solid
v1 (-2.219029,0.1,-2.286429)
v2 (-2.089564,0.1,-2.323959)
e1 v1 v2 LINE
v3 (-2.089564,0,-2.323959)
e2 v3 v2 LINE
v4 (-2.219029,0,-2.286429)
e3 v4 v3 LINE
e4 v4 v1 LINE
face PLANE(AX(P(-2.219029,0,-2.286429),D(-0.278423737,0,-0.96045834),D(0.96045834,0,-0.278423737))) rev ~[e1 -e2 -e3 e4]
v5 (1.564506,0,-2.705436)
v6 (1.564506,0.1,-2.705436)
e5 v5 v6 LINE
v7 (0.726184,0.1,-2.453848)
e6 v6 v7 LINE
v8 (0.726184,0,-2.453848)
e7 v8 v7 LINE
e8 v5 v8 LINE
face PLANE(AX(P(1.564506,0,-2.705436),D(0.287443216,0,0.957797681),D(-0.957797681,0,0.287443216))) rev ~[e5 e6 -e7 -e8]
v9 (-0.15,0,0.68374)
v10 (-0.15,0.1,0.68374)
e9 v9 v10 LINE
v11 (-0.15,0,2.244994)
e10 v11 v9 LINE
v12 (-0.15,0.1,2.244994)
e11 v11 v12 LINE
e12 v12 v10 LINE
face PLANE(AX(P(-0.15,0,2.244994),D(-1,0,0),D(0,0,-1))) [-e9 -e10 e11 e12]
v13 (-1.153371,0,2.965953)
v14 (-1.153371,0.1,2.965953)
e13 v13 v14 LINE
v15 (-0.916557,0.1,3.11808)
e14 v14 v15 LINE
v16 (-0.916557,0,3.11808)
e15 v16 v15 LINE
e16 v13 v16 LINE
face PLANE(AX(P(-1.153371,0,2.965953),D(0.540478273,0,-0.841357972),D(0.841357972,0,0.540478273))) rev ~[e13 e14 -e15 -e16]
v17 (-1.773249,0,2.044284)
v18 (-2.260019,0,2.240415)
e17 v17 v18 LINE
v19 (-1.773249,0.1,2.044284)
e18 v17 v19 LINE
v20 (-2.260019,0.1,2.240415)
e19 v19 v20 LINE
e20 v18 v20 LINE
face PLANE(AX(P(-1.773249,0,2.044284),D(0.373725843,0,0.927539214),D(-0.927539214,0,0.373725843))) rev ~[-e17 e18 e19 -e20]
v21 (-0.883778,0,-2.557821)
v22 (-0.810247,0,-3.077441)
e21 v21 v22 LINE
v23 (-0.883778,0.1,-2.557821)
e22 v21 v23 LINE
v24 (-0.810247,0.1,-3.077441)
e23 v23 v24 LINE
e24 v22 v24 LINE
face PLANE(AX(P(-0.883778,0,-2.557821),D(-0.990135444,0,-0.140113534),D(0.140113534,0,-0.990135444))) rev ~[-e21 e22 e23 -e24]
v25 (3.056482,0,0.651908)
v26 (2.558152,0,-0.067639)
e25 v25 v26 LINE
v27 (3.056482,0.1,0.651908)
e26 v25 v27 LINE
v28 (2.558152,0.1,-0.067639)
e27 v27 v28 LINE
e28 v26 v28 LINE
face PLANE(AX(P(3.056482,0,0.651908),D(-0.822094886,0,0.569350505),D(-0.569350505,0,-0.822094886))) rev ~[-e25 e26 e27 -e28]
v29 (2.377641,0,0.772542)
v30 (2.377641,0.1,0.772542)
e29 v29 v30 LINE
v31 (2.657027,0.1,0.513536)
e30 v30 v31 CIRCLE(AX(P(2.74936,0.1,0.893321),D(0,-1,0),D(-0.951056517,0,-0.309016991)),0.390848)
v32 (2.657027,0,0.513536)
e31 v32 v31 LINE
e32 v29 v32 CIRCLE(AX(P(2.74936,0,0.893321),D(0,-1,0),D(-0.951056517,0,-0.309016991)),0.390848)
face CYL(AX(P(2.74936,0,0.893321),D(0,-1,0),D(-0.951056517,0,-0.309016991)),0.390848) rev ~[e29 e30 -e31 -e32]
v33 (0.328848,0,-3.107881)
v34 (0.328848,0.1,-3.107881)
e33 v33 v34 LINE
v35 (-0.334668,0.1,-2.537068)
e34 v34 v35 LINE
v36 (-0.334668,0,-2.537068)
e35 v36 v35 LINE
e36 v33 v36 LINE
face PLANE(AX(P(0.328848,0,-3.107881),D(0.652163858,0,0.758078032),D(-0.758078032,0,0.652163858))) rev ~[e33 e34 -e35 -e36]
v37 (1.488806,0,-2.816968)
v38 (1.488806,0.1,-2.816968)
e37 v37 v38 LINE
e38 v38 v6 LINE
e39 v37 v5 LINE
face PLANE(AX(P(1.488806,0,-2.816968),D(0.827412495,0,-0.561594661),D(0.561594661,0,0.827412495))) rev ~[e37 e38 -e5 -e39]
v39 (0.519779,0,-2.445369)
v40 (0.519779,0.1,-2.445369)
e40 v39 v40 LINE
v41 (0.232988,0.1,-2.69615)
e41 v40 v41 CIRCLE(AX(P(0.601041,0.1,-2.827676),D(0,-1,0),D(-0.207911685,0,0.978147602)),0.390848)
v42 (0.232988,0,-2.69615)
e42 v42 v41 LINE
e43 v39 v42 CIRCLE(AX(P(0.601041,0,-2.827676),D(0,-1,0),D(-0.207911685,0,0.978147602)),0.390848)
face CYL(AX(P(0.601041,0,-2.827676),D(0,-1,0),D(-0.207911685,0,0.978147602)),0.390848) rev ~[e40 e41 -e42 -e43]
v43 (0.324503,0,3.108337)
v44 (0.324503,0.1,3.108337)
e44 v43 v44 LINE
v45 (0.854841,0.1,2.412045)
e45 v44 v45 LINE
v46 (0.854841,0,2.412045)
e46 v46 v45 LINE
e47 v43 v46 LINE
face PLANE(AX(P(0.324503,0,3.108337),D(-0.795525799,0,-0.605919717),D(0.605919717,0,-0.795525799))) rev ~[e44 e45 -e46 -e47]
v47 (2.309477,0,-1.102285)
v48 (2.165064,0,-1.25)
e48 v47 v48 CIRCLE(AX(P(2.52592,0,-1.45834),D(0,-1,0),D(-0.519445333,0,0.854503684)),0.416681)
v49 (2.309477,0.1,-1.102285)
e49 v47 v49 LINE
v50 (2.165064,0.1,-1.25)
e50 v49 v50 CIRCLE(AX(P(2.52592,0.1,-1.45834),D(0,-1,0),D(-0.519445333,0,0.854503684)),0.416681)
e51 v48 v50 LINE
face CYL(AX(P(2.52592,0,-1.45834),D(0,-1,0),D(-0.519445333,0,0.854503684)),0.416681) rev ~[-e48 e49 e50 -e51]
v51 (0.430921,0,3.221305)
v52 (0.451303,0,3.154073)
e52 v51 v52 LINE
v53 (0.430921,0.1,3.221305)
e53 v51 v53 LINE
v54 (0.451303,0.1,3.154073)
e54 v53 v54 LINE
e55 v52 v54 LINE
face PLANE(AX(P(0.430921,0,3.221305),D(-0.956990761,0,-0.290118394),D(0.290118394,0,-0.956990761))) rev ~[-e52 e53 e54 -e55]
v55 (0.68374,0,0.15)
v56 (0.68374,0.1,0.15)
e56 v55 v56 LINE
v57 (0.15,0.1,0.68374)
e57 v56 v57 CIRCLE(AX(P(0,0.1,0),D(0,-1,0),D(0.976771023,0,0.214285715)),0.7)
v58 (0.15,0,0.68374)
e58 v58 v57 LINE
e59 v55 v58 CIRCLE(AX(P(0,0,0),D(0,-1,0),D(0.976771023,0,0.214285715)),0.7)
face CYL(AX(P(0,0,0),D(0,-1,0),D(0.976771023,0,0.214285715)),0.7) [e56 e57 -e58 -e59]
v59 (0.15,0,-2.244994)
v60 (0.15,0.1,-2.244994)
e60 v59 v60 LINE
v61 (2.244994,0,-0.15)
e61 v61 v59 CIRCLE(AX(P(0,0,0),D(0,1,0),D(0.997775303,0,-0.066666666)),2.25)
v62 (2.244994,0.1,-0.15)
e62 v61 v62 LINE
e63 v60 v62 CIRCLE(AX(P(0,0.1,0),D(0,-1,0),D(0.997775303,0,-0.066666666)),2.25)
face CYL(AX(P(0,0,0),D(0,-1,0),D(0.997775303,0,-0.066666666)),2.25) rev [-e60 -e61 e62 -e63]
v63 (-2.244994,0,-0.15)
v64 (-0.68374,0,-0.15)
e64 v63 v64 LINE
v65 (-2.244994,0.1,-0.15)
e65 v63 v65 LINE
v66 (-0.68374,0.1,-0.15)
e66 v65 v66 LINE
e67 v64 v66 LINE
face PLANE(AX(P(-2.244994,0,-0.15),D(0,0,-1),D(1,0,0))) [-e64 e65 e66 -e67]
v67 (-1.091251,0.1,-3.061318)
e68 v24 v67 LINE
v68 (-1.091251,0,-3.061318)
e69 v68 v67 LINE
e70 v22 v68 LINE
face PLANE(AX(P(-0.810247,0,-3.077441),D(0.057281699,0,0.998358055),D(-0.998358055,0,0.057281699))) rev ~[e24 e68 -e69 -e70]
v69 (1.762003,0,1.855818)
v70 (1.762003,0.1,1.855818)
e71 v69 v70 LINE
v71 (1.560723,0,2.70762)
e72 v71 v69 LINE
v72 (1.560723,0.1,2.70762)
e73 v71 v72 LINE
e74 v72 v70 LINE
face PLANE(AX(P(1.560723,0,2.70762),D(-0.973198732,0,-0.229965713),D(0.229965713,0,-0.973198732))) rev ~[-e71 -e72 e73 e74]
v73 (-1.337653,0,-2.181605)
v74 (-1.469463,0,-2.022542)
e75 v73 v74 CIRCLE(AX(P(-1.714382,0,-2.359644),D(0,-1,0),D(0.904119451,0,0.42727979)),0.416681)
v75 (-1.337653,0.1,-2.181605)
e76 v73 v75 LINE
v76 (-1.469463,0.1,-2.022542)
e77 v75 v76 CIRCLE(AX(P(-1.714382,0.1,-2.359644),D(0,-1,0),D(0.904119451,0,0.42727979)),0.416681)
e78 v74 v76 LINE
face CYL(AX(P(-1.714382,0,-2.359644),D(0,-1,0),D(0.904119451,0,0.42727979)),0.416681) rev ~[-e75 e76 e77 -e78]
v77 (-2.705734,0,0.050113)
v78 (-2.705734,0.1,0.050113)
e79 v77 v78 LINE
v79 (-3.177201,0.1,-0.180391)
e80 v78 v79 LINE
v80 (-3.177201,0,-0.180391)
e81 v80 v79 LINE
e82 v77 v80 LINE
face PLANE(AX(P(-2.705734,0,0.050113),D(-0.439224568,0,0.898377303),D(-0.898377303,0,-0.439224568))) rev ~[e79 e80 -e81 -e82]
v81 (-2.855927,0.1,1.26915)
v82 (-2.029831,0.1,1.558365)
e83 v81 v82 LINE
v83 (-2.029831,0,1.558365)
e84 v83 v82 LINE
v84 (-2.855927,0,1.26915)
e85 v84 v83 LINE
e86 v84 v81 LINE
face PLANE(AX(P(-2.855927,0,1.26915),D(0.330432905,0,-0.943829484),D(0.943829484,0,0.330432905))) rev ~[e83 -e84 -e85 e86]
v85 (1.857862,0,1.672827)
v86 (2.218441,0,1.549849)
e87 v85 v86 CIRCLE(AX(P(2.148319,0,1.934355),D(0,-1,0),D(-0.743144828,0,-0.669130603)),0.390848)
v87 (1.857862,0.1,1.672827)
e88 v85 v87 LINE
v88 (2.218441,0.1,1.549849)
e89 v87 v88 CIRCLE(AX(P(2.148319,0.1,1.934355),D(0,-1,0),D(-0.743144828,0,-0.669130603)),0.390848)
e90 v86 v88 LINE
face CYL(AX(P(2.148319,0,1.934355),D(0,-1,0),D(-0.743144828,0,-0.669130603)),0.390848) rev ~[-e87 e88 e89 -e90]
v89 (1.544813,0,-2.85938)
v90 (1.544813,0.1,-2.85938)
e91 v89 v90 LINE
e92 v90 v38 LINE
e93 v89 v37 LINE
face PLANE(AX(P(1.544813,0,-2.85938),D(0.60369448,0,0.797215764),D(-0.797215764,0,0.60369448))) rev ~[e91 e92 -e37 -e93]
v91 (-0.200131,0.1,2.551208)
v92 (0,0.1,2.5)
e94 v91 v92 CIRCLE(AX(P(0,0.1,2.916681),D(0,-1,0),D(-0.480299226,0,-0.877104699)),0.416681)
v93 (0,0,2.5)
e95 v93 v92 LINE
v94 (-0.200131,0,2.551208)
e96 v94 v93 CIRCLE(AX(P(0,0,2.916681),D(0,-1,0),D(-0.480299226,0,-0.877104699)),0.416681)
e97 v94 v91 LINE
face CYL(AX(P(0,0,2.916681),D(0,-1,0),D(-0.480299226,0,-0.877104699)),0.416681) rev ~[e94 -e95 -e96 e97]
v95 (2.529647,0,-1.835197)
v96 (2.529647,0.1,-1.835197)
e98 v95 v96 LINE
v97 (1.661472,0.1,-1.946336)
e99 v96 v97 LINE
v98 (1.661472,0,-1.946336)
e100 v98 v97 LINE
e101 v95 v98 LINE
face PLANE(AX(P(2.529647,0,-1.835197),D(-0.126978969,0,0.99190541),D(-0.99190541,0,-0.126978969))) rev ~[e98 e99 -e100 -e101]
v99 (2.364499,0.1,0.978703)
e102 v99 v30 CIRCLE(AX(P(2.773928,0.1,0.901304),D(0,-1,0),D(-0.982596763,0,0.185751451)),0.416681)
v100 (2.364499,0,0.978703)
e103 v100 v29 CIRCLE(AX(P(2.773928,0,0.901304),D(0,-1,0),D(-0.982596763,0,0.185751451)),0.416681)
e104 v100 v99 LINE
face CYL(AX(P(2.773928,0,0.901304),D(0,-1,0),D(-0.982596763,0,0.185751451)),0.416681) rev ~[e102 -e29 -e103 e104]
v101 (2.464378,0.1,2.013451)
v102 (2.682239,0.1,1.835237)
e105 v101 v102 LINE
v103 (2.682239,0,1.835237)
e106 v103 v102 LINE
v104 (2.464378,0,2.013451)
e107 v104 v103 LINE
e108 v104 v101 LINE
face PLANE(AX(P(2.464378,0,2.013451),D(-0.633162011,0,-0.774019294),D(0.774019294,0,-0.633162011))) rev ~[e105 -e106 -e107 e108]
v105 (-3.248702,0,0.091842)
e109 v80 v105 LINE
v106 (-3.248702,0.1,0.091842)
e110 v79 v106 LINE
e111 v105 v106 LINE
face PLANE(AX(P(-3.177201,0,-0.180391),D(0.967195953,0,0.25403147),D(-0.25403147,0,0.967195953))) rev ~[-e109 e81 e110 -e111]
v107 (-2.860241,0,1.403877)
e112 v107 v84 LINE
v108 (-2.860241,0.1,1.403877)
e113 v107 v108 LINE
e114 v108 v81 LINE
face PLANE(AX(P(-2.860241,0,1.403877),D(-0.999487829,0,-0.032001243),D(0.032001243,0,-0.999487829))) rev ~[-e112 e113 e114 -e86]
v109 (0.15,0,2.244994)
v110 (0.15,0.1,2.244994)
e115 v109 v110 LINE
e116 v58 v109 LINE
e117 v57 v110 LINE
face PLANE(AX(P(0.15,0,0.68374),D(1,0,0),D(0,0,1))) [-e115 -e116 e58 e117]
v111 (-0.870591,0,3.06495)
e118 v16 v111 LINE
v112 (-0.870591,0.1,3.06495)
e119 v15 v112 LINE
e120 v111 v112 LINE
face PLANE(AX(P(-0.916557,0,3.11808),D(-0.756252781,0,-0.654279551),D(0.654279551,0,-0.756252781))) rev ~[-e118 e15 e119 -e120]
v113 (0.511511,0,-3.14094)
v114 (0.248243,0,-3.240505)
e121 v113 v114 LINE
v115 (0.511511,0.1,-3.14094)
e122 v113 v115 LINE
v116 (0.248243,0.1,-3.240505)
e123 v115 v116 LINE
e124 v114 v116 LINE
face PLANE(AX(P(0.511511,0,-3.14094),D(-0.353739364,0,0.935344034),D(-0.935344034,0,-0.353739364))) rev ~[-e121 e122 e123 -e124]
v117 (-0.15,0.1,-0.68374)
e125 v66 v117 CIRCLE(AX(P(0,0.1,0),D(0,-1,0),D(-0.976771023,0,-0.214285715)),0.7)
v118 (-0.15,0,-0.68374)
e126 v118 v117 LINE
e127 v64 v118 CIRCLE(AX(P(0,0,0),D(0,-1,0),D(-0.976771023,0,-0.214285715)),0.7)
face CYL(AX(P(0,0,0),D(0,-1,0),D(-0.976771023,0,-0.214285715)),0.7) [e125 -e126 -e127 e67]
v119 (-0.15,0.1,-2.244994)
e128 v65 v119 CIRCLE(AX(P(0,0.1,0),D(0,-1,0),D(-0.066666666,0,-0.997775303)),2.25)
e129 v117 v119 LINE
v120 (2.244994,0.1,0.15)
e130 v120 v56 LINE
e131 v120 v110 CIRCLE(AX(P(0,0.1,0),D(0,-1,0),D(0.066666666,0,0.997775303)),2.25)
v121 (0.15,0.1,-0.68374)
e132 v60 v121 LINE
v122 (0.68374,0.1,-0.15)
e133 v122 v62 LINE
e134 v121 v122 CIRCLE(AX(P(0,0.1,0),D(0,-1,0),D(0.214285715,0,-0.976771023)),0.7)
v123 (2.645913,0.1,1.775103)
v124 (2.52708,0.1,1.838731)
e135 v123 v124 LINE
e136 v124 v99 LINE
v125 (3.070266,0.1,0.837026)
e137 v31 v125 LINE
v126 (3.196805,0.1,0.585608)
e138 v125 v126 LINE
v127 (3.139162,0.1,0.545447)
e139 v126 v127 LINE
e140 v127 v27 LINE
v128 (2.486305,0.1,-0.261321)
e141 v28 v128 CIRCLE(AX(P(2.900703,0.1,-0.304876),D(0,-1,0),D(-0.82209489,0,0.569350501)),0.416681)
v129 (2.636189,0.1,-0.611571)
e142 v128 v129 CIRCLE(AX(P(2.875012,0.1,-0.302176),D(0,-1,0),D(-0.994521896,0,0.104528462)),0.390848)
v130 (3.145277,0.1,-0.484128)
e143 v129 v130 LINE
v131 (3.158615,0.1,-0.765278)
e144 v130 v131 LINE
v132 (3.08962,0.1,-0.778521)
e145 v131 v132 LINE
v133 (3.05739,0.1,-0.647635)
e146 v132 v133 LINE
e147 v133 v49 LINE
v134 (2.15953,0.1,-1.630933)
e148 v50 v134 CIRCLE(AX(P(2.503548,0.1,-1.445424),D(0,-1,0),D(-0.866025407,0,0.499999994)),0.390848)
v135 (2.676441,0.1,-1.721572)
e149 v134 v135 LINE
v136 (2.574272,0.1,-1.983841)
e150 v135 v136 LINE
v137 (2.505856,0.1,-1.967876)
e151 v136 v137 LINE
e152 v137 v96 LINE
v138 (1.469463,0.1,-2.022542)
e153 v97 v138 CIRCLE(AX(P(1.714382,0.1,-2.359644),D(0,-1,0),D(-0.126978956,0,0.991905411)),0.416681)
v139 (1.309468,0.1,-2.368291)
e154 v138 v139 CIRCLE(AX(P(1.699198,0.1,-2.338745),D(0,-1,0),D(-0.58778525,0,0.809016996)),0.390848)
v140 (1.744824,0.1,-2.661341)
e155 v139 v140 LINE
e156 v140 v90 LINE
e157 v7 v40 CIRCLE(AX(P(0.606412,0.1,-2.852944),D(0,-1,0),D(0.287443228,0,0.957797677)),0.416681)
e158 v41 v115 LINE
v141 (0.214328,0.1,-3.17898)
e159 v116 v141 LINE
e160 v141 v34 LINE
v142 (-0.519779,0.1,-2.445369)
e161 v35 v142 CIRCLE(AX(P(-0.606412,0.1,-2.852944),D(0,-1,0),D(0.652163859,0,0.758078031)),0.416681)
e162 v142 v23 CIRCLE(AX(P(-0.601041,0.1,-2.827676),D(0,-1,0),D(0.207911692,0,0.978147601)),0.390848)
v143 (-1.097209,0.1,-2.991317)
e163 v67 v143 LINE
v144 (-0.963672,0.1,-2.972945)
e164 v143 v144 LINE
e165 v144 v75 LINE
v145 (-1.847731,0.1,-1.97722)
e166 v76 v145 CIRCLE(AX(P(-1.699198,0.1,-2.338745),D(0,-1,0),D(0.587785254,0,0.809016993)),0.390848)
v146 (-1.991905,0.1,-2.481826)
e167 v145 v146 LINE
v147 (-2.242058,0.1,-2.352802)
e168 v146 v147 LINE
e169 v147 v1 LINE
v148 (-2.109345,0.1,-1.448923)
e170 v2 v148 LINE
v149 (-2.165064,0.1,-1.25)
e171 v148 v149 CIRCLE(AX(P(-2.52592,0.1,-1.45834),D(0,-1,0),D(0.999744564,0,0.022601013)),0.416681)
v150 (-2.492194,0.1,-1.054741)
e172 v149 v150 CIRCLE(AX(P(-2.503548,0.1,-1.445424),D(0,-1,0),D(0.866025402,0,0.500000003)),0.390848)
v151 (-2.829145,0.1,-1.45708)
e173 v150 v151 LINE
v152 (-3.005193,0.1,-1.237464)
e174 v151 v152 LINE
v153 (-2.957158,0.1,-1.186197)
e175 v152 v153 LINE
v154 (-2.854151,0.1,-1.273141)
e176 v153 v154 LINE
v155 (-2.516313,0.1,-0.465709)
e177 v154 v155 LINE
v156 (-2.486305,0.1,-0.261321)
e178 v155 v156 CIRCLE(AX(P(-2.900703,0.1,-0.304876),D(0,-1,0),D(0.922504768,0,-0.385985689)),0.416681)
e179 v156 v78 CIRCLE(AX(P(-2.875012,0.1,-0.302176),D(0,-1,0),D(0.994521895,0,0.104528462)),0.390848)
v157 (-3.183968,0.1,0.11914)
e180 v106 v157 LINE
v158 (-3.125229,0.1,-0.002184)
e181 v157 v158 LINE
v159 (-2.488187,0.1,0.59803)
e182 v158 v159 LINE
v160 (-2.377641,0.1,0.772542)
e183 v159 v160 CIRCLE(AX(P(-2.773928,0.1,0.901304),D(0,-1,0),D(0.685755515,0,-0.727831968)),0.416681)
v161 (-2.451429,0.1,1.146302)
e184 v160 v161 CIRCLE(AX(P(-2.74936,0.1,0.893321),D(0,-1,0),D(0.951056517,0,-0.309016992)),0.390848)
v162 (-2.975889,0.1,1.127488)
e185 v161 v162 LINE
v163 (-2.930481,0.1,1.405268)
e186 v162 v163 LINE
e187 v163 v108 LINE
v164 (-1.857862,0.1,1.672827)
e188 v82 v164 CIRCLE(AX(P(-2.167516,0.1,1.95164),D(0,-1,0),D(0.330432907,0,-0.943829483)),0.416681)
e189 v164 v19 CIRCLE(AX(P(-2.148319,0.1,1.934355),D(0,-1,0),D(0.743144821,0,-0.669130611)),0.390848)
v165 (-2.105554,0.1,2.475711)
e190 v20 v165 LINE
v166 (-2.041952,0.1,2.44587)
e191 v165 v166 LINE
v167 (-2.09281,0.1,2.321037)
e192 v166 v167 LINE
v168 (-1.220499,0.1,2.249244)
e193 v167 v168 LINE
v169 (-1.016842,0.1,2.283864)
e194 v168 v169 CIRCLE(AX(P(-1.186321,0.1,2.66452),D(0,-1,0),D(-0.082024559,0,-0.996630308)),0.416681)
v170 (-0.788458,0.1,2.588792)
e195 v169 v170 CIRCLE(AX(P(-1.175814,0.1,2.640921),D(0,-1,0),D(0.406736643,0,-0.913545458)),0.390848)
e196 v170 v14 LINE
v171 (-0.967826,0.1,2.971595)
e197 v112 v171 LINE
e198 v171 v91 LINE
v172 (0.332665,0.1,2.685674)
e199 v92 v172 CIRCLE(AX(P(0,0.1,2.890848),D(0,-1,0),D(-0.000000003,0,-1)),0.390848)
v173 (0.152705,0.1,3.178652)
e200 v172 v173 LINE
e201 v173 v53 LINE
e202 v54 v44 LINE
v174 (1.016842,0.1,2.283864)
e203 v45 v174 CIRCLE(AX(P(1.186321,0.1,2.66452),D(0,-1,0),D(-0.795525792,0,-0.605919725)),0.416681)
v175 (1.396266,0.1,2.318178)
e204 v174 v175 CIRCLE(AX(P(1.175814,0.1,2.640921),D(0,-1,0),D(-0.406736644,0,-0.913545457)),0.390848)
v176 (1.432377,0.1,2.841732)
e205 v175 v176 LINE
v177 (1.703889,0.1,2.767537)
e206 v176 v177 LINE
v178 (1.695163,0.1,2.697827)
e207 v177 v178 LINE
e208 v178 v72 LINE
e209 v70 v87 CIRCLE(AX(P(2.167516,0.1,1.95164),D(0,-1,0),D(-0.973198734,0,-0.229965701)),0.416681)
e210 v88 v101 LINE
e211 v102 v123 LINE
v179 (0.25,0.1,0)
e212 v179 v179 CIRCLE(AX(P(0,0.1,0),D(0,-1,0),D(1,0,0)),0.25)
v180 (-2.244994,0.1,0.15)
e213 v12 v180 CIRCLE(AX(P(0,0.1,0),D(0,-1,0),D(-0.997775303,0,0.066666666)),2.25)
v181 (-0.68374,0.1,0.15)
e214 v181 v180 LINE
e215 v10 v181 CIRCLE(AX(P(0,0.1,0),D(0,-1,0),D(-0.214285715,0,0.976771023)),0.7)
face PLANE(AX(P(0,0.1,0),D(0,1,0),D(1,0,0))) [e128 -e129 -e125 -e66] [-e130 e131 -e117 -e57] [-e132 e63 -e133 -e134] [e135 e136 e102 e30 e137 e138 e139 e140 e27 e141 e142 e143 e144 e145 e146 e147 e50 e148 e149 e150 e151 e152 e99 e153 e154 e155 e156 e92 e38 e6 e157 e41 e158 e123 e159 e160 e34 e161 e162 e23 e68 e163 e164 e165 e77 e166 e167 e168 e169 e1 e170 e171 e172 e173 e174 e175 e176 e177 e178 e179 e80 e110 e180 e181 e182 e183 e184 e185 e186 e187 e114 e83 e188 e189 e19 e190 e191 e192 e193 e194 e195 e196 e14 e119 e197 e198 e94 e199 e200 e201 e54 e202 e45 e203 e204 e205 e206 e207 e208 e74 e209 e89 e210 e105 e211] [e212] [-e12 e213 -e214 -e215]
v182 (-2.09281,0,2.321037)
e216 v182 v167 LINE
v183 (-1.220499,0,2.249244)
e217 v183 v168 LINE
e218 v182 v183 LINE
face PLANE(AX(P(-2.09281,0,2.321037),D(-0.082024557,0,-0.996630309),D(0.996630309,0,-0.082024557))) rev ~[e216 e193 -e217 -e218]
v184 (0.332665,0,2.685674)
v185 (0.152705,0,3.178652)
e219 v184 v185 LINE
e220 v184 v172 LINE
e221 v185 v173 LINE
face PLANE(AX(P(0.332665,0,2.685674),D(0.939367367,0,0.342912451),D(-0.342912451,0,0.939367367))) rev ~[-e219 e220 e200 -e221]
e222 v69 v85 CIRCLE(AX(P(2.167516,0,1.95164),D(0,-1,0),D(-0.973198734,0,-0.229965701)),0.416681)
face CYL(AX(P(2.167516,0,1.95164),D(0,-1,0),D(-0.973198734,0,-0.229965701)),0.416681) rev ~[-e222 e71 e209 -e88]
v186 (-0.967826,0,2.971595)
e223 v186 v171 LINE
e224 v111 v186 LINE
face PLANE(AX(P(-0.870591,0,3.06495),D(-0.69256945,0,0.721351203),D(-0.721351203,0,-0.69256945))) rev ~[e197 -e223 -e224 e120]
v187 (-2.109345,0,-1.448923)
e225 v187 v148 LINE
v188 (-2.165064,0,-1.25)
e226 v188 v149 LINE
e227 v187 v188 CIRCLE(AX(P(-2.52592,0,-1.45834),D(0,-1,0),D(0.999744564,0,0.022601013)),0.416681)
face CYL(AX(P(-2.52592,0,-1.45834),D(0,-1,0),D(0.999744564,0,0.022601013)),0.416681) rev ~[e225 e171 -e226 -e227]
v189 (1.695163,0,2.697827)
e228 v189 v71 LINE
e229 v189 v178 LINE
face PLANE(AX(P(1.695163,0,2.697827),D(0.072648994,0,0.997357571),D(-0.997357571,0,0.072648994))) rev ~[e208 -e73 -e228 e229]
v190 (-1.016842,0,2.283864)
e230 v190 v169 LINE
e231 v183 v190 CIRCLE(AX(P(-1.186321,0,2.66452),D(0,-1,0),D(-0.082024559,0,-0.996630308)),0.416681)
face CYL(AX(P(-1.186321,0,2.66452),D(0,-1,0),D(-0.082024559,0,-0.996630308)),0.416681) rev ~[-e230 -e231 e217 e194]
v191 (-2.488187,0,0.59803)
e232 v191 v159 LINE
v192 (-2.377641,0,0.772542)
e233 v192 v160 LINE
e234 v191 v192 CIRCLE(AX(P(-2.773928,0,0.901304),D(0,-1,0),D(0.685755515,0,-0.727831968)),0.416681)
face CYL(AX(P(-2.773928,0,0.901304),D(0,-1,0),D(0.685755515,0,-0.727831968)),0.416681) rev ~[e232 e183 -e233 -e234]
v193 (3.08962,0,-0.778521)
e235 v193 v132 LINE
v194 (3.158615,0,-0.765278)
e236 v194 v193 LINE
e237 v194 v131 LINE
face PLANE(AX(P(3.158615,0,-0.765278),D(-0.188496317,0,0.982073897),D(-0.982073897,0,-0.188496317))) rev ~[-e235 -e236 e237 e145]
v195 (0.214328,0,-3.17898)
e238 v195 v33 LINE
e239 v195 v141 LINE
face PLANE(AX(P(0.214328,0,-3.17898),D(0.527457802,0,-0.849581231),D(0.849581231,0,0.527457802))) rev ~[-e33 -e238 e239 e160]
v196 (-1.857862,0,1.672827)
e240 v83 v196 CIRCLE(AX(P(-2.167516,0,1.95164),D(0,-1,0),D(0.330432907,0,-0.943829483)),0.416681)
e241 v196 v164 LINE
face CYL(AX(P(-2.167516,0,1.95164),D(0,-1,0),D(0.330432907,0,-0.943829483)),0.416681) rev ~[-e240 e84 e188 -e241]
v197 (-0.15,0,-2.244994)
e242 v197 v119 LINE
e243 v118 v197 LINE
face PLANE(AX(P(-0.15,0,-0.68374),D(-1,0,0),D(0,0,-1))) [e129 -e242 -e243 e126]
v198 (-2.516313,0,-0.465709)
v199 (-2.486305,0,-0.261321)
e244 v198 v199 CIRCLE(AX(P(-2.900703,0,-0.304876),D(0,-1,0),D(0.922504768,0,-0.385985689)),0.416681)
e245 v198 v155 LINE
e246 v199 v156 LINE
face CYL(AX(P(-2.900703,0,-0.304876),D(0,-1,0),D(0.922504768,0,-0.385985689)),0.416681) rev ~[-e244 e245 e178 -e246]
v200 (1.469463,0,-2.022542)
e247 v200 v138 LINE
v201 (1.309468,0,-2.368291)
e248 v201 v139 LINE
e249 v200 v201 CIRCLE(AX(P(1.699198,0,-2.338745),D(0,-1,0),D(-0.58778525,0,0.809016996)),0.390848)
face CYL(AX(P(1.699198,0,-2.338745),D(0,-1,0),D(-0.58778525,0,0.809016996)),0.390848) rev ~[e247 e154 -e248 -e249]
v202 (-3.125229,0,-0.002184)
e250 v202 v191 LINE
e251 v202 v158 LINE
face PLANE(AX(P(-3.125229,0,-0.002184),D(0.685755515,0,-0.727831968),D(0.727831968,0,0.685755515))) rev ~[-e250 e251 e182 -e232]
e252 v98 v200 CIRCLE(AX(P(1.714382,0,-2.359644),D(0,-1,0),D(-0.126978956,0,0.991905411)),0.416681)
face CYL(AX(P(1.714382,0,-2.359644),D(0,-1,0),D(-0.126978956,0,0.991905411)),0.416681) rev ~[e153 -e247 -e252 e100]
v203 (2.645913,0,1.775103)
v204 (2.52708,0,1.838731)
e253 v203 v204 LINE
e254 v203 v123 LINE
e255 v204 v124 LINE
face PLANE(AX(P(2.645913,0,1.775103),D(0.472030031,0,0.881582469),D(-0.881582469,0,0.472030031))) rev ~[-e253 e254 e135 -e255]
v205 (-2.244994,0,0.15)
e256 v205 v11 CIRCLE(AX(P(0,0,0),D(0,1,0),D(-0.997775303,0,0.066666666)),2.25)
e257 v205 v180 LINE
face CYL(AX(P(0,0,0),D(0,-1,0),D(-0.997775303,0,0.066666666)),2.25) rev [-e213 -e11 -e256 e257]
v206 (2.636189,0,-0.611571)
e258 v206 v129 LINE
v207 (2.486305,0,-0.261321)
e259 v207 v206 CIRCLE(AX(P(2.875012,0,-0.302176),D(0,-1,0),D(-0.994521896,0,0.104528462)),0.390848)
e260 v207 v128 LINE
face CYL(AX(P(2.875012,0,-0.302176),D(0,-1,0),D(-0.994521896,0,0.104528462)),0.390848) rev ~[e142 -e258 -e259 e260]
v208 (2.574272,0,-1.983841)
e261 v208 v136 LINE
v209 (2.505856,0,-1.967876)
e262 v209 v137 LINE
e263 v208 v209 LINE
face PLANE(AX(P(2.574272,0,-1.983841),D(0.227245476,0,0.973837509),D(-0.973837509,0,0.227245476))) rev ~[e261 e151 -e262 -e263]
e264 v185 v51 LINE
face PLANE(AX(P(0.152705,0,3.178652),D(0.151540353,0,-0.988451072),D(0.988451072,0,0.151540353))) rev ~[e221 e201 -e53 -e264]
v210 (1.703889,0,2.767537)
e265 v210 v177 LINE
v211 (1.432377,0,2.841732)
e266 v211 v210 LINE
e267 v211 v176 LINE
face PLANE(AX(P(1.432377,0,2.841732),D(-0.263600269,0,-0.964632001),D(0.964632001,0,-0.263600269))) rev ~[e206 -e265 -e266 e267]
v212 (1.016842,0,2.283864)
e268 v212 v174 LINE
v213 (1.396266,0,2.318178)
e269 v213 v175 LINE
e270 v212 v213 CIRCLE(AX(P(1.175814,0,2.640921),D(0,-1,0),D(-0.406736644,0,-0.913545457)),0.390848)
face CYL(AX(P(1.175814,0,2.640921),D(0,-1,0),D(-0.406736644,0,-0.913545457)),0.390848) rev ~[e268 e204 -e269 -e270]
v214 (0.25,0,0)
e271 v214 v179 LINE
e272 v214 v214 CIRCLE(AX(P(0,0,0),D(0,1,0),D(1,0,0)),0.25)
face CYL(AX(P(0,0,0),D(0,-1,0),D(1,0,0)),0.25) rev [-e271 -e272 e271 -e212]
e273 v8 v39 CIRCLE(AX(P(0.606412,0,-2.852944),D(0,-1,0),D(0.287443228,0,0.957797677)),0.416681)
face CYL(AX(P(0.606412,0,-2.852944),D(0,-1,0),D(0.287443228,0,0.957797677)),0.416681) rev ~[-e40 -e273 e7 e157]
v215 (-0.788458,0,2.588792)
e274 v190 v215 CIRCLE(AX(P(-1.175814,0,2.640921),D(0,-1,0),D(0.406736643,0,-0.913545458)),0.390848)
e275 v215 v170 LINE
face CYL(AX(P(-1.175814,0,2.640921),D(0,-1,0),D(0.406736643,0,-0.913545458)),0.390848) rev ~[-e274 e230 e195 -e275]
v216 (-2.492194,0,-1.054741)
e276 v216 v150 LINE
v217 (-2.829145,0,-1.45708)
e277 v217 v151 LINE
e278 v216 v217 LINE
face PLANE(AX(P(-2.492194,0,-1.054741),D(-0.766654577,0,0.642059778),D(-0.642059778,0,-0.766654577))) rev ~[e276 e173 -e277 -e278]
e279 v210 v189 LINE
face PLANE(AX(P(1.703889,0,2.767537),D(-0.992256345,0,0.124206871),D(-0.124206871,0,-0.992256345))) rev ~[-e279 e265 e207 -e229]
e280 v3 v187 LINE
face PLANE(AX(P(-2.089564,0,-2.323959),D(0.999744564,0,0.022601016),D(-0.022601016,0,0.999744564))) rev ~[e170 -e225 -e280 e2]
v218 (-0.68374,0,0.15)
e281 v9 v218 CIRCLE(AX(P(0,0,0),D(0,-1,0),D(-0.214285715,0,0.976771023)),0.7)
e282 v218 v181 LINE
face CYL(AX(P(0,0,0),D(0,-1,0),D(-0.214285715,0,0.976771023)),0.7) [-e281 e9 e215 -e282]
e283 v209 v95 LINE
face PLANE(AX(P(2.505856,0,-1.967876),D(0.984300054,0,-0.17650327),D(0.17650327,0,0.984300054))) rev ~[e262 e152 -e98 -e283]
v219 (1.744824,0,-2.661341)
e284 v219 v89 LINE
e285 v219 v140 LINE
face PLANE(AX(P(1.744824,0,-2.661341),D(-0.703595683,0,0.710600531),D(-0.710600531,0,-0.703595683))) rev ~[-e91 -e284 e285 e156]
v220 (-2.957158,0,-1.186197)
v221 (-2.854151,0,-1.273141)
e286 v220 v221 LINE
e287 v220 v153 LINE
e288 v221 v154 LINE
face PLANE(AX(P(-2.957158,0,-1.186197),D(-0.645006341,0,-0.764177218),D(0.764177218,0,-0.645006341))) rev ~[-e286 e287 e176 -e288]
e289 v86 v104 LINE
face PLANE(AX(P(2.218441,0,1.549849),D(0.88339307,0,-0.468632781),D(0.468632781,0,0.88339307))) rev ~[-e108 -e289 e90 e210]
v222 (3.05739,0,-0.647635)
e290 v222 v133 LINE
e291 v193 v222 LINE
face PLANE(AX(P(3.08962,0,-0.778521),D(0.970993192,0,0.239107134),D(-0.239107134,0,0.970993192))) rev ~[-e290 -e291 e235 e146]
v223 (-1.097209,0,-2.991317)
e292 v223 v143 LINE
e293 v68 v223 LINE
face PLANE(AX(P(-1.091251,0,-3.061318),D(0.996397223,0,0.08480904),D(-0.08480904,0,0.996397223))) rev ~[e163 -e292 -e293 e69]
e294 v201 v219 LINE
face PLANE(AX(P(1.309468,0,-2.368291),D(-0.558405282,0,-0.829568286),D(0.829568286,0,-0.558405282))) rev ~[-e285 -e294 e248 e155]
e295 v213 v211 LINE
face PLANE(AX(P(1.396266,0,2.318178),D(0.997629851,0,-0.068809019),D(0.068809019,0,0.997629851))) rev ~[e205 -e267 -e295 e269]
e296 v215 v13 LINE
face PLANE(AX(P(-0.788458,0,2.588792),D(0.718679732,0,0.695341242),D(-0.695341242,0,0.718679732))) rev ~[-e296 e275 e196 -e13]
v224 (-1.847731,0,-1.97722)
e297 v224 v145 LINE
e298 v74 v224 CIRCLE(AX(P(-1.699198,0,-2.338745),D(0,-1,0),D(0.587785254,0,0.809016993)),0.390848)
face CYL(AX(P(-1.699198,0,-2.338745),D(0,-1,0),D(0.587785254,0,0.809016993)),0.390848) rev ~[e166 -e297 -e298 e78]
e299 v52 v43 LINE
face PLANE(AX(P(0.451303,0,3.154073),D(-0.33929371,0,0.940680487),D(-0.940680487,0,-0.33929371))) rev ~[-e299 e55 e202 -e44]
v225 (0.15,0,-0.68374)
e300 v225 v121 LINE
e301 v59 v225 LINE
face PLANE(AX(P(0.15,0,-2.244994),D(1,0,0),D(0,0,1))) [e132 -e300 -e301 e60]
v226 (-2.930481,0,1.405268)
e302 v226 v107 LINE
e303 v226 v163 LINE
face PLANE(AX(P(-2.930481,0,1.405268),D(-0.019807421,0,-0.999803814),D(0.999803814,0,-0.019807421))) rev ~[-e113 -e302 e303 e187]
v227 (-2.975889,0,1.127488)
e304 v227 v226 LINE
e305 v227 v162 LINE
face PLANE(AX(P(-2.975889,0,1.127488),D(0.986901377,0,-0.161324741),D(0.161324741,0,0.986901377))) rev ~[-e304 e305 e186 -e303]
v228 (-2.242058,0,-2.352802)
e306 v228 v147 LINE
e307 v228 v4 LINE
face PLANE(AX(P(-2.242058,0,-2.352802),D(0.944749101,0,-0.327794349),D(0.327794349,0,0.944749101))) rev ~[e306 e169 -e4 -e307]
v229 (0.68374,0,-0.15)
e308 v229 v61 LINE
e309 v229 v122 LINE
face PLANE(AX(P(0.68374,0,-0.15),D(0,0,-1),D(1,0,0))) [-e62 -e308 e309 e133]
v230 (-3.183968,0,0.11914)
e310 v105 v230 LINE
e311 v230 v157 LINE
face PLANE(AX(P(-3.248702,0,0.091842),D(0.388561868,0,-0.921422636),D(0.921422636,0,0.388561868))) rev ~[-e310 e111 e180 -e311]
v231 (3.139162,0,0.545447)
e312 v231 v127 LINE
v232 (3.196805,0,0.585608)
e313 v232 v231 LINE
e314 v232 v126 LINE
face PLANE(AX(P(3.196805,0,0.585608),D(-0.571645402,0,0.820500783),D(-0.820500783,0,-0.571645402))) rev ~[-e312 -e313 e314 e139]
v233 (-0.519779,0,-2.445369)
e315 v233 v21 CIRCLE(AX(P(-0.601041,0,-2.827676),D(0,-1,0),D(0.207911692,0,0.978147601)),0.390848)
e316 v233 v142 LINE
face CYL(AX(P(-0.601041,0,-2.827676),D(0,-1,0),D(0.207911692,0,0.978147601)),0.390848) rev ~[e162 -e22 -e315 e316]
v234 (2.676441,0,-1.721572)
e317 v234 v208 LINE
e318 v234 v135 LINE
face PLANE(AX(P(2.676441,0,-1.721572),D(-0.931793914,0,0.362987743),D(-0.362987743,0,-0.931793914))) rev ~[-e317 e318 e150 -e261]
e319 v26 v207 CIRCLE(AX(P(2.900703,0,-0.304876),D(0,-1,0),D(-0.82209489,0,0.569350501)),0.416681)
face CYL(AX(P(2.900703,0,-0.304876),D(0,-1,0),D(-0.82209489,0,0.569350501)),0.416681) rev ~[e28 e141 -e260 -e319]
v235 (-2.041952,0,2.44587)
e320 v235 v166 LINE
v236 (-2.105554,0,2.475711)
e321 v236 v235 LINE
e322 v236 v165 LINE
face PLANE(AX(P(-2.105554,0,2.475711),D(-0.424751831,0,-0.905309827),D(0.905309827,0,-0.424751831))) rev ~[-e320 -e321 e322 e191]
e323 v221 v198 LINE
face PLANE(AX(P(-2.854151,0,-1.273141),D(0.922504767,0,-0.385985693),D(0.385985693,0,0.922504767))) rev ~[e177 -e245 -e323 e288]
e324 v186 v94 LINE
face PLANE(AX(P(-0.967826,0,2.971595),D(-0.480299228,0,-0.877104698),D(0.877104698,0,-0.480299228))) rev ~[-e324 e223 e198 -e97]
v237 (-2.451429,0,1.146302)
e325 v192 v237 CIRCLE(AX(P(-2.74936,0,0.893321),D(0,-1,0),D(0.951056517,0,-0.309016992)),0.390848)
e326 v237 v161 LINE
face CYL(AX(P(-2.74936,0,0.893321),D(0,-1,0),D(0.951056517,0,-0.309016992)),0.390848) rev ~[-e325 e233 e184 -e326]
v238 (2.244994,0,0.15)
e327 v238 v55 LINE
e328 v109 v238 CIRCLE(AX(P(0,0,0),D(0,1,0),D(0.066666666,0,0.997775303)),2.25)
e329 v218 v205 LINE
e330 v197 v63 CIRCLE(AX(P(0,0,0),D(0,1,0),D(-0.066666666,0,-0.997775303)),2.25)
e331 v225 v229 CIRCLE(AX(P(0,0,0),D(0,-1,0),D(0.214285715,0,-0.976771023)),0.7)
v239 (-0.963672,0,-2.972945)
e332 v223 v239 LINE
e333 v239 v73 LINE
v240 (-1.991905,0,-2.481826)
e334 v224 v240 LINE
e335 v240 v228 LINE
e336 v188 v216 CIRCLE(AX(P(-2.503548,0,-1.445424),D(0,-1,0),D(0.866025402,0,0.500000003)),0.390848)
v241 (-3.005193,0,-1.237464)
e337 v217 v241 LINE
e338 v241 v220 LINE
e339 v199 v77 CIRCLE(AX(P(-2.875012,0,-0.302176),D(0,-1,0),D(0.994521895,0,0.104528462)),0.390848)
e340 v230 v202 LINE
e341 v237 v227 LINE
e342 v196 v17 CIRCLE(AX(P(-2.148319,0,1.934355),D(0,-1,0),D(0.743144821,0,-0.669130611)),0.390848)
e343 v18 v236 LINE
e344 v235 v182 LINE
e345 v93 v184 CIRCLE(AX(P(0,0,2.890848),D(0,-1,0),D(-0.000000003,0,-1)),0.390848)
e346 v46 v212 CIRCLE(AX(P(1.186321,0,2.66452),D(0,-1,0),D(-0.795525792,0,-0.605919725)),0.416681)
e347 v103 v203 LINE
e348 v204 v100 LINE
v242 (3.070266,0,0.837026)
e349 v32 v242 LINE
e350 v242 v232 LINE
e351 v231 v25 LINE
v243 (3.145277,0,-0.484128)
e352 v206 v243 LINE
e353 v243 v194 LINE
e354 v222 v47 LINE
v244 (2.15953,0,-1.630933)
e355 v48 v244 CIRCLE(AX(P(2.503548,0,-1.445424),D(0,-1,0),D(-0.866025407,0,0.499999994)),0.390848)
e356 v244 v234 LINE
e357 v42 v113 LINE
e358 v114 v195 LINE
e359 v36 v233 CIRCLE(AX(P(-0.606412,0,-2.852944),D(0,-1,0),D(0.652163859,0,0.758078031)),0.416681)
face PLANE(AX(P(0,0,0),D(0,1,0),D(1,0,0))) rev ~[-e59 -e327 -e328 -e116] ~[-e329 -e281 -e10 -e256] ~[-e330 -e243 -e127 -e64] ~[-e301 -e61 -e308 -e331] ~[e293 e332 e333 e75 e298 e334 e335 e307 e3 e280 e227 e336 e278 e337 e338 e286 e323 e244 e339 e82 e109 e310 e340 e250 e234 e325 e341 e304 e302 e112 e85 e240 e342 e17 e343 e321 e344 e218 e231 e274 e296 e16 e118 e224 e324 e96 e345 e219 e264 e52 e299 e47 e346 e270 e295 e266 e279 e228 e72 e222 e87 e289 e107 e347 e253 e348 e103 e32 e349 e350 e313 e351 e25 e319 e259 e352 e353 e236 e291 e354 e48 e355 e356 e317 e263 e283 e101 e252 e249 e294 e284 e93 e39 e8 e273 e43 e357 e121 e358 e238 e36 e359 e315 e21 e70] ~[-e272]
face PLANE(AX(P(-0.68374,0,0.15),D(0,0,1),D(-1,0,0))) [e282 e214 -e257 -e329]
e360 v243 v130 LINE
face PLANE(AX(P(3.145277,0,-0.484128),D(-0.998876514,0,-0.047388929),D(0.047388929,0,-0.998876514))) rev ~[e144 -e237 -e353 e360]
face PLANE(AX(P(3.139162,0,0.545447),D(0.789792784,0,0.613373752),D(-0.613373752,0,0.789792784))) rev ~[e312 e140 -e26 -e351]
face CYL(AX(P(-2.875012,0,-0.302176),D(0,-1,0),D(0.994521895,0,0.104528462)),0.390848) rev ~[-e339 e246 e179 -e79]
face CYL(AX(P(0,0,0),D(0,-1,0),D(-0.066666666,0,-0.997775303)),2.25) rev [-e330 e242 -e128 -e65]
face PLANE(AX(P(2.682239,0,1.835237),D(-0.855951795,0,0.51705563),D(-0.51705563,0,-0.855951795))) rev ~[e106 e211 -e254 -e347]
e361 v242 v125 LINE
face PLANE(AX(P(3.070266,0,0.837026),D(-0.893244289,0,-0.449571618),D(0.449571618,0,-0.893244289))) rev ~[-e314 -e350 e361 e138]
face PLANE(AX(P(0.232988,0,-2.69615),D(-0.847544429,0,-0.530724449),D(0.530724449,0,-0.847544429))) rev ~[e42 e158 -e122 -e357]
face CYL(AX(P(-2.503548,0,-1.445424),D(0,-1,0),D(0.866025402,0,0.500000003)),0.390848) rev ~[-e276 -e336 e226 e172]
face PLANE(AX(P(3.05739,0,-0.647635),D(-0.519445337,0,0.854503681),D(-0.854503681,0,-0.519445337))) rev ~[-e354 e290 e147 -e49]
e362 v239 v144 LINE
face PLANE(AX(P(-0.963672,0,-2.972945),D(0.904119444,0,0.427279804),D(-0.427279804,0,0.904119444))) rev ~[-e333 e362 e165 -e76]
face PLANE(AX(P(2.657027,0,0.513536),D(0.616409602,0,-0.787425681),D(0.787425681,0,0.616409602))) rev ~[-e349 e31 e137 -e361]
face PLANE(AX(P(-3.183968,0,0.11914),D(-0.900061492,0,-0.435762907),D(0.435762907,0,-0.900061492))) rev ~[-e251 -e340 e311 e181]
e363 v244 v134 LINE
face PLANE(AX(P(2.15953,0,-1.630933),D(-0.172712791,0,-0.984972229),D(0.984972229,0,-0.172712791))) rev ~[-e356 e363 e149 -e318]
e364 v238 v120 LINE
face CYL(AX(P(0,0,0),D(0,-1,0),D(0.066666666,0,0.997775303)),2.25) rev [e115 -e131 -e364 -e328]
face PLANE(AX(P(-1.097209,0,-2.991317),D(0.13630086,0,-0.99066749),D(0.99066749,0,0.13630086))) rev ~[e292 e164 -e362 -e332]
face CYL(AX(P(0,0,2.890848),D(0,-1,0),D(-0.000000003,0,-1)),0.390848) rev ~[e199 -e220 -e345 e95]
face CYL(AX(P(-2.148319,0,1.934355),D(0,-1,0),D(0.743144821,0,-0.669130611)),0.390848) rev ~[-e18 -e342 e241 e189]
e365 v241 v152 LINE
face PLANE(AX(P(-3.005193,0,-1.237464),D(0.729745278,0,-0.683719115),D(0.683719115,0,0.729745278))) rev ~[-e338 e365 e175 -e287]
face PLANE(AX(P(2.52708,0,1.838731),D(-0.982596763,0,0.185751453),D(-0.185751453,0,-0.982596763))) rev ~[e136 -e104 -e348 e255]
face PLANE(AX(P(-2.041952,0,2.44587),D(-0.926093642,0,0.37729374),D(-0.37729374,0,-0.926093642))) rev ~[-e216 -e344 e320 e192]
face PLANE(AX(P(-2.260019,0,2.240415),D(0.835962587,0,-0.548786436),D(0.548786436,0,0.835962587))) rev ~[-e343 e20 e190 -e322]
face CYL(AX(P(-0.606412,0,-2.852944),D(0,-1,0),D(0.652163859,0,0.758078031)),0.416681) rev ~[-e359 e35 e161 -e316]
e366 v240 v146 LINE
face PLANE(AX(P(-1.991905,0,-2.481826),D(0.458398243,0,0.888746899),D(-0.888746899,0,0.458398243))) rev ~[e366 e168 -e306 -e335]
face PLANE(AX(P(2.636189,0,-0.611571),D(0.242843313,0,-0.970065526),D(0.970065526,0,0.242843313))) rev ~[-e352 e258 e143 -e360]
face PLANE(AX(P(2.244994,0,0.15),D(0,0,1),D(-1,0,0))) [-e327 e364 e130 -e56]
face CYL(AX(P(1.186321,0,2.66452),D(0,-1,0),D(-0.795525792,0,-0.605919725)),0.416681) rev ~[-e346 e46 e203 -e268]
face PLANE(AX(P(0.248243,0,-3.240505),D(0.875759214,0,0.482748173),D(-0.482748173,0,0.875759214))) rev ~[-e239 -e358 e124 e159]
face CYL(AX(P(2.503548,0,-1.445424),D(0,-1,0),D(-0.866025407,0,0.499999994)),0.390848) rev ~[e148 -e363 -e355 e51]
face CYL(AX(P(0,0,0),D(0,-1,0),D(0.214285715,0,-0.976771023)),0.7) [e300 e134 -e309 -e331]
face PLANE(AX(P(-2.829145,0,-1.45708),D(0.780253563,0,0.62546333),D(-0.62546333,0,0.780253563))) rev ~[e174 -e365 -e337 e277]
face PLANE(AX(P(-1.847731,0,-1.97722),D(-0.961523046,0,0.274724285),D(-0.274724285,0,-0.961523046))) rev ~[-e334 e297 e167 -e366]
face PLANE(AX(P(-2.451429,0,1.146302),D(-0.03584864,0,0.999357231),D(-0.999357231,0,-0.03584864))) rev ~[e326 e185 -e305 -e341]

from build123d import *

# Parameters (mm, degrees)
BOSS_EXTRUDE1_DEPTH = 0.1
CUT_EXTRUDE1_REACH  = 2.1
SKETCH2_R           = 0.25


with BuildPart() as part:
    # Sketch1 → Boss-Extrude1 (new body)
    with BuildSketch(Plane(origin=(0, 0, 0), x_dir=(1, 0, 0), z_dir=(0, 1, 0))):
        with BuildLine():
            Line((-2.092809674, -2.32103661), (-1.220498963, -2.249243791))
            ThreePointArc((-1.220498963, -2.249243791), (-1.116490826, -2.253732669), (-1.016841608, -2.283863644))
            ThreePointArc((-1.016841608, -2.283863644), (-0.862981663, -2.406617422), (-0.788457807, -2.588791976))
            Line((-0.788457807, -2.588791976), (-1.153371274, -2.965953428))
            Line((-1.153371274, -2.965953428), (-0.91655705, -3.118080046))
            Line((-0.91655705, -3.118080046), (-0.870591181, -3.064950132))
            Line((-0.870591181, -3.064950132), (-0.967826132, -2.971594834))
            Line((-0.967826132, -2.971594834), (-0.200131415, -2.551208099))
            ThreePointArc((-0.200131415, -2.551208099), (-0.103289463, -2.513004973), (0, -2.5))
            ThreePointArc((0, -2.5), (0.190486514, -2.549560679), (0.332664509, -2.685673832))
            Line((0.332664509, -2.685673832), (0.152704852, -3.178651642))
            Line((0.152704852, -3.178651642), (0.430920881, -3.2213052))
            Line((0.430920881, -3.2213052), (0.451302909, -3.154072605))
            Line((0.451302909, -3.154072605), (0.324503341, -3.108337314))
            Line((0.324503341, -3.108337314), (0.854840673, -2.41204535))
            ThreePointArc((0.854840673, -2.41204535), (0.927771587, -2.337755888), (1.016841608, -2.283863644))
            ThreePointArc((1.016841608, -2.283863644), (1.211017841, -2.251661732), (1.39626611, -2.318178284))
            Line((1.39626611, -2.318178284), (1.432376923, -2.84173211))
            Line((1.432376923, -2.84173211), (1.703888677, -2.767537421))
            Line((1.703888677, -2.767537421), (1.695162626, -2.697827272))
            Line((1.695162626, -2.697827272), (1.560723238, -2.707620035))
            Line((1.560723238, -2.707620035), (1.762003043, -1.855818048))
            ThreePointArc((1.762003043, -1.855818048), (1.798412501, -1.758287571), (1.857862064, -1.672826516))
            ThreePointArc((1.857862064, -1.672826516), (2.022153182, -1.564430016), (2.218440616, -1.549848651))
            Line((2.218440616, -1.549848651), (2.46437801, -2.01345128))
            Line((2.46437801, -2.01345128), (2.682238641, -1.835237279))
            Line((2.682238641, -1.835237279), (2.645913325, -1.775103093))
            Line((2.645913325, -1.775103093), (2.527079908, -1.838730653))
            Line((2.527079908, -1.838730653), (2.364499079, -0.978702945))
            ThreePointArc((2.364499079, -0.978702945), (2.358091556, -0.87479536), (2.377641291, -0.772542486))
            ThreePointArc((2.377641291, -0.772542486), (2.483639867, -0.606694138), (2.657026585, -0.513536106))
            Line((2.657026585, -0.513536106), (3.070265752, -0.837026432))
            Line((3.070265752, -0.837026432), (3.196805177, -0.585607939))
            Line((3.196805177, -0.585607939), (3.139161573, -0.545447464))
            Line((3.139161573, -0.545447464), (3.056481505, -0.651908037))
            Line((3.056481505, -0.651908037), (2.558151744, 0.067638788))
            ThreePointArc((2.558151744, 0.067638788), (2.510035158, 0.159956916), (2.486304738, 0.261321158))
            ThreePointArc((2.486304738, 0.261321158), (2.515682656, 0.455944668), (2.63618852, 0.611571497))
            Line((2.63618852, 0.611571497), (3.145276652, 0.484127891))
            Line((3.145276652, 0.484127891), (3.158615056, 0.765278334))
            Line((3.158615056, 0.765278334), (3.089620266, 0.778520987))
            Line((3.089620266, 0.778520987), (3.057389682, 0.6476354))
            Line((3.057389682, 0.6476354), (2.309476732, 1.102285161))
            ThreePointArc((2.309476732, 1.102285161), (2.227970878, 1.167051188), (2.165063509, 1.25))
            ThreePointArc((2.165063509, 1.25), (2.11274106, 1.4397465), (2.15952951, 1.630932832))
            Line((2.15952951, 1.630932832), (2.676440646, 1.721572103))
            Line((2.676440646, 1.721572103), (2.574271696, 1.98384103))
            Line((2.574271696, 1.98384103), (2.505855547, 1.967876087))
            Line((2.505855547, 1.967876087), (2.529647407, 1.835196794))
            Line((2.529647407, 1.835196794), (1.661472212, 1.946336415))
            ThreePointArc((1.661472212, 1.946336415), (1.560670193, 1.972351707), (1.469463131, 2.022542486))
            ThreePointArc((1.469463131, 2.022542486), (1.34448734, 2.174603081), (1.309468229, 2.368291064))
            Line((1.309468229, 2.368291064), (1.744823737, 2.661340858))
            Line((1.744823737, 2.661340858), (1.544813374, 2.85937959))
            Line((1.544813374, 2.85937959), (1.488805639, 2.816967533))
            Line((1.488805639, 2.816967533), (1.564506115, 2.705435989))
            Line((1.564506115, 2.705435989), (0.726184053, 2.453848421))
            ThreePointArc((0.726184053, 2.453848421), (0.623515453, 2.436614698), (0.519779227, 2.445369002))
            ThreePointArc((0.519779227, 2.445369002), (0.343759545, 2.533451034), (0.232987996, 2.696150256))
            Line((0.232987996, 2.696150256), (0.511510953, 3.140939602))
            Line((0.511510953, 3.140939602), (0.248242785, 3.240505442))
            Line((0.248242785, 3.240505442), (0.214327711, 3.178979702))
            Line((0.214327711, 3.178979702), (0.328847502, 3.107880724))
            Line((0.328847502, 3.107880724), (-0.334667927, 2.537067742))
            ThreePointArc((-0.334667927, 2.537067742), (-0.421450773, 2.479564872), (-0.519779227, 2.445369002))
            ThreePointArc((-0.519779227, 2.445369002), (-0.716407398, 2.454242288), (-0.883777979, 2.557820574))
            Line((-0.883777979, 2.557820574), (-0.810246722, 3.077441353))
            Line((-0.810246722, 3.077441353), (-1.091251237, 3.061318464))
            Line((-1.091251237, 3.061318464), (-1.097209426, 2.991317401))
            Line((-1.097209426, 2.991317401), (-0.963671831, 2.972944648))
            Line((-0.963671831, 2.972944648), (-1.337652781, 2.181605003))
            ThreePointArc((-1.337652781, 2.181605003), (-1.393544331, 2.093775753), (-1.469463131, 2.022542486))
            ThreePointArc((-1.469463131, 2.022542486), (-1.652700994, 1.950672754), (-1.847730712, 1.977220479))
            Line((-1.847730712, 1.977220479), (-1.991905378, 2.481825538))
            Line((-1.991905378, 2.481825538), (-2.242058006, 2.352801712))
            Line((-2.242058006, 2.352801712), (-2.219029085, 2.286429145))
            Line((-2.219029085, 2.286429145), (-2.08956355, 2.323959433))
            Line((-2.08956355, 2.323959433), (-2.109345317, 1.448922939))
            ThreePointArc((-2.109345317, 1.448922939), (-2.124681415, 1.345953785), (-2.165063509, 1.25))
            ThreePointArc((-2.165063509, 1.25), (-2.303227573, 1.10981418), (-2.492194019, 1.054741))
            Line((-2.492194019, 1.054741), (-2.829145498, 1.45707954))
            Line((-2.829145498, 1.45707954), (-3.005192577, 1.23746417))
            Line((-3.005192577, 1.23746417), (-2.957158456, 1.186196519))
            Line((-2.957158456, 1.186196519), (-2.854150748, 1.27314052))
            Line((-2.854150748, 1.27314052), (-2.516312885, 0.465708936))
            ThreePointArc((-2.516312885, 0.465708936), (-2.48844178, 0.36540418), (-2.486304738, 0.261321158))
            ThreePointArc((-2.486304738, 0.261321158), (-2.555505181, 0.077058651), (-2.70573434, -0.05011278))
            Line((-2.70573434, -0.05011278), (-3.17720066, 0.180391252))
            Line((-3.17720066, 0.180391252), (-3.248702051, -0.091842169))
            Line((-3.248702051, -0.091842169), (-3.183968265, -0.119140262))
            Line((-3.183968265, -0.119140262), (-3.125229353, 0.002184045))
            Line((-3.125229353, 0.002184045), (-2.488187096, -0.598030373))
            ThreePointArc((-2.488187096, -0.598030373), (-2.421927955, -0.678327127), (-2.377641291, -0.772542486))
            ThreePointArc((-2.377641291, -0.772542486), (-2.365912728, -0.969021018), (-2.451428612, -1.146301605))
            Line((-2.451428612, -1.146301605), (-2.975888963, -1.127488322))
            Line((-2.975888963, -1.127488322), (-2.930481426, -1.405268163))
            Line((-2.930481426, -1.405268163), (-2.860241036, -1.403876609))
            Line((-2.860241036, -1.403876609), (-2.85592741, -1.269150071))
            Line((-2.85592741, -1.269150071), (-2.029831153, -1.558364797))
            ThreePointArc((-2.029831153, -1.558364797), (-1.936640783, -1.604769512), (-1.857862064, -1.672826516))
            ThreePointArc((-1.857862064, -1.672826516), (-1.767232469, -1.84754815), (-1.773248606, -2.044284468))
            Line((-1.773248606, -2.044284468), (-2.26001903, -2.240414922))
            Line((-2.26001903, -2.240414922), (-2.105553941, -2.475710525))
            Line((-2.105553941, -2.475710525), (-2.041952147, -2.445869936))
            Line((-2.041952147, -2.445869936), (-2.092809674, -2.32103661))
        make_face()
    extrude(amount=BOSS_EXTRUDE1_DEPTH)

    # Sketch2 → Cut-Extrude1 (cut, up to next)
    with BuildSketch(Plane(origin=(0, 0, 0), x_dir=(1, 0, 0), z_dir=(0, 1, 0)), mode=Mode.PRIVATE) as cut_extrude1_sk1:
        Circle(SKETCH2_R)
    cut_extrude1_tool1 = extrude(cut_extrude1_sk1.sketch, amount=CUT_EXTRUDE1_REACH, mode=Mode.PRIVATE) & part.part
    add(cut_extrude1_tool1.solids().sort_by_distance((0, 0, 0))[0], mode=Mode.SUBTRACT)
    # Sketch2 → Cut-Extrude1 (cut, up to next)
    with BuildSketch(Plane(origin=(0, 0, 0), x_dir=(1, 0, 0), z_dir=(0, 1, 0)), mode=Mode.PRIVATE) as cut_extrude1_sk2:
        with BuildLine():
            Line((0.15, 2.244994432), (0.15, 0.683739717))
            ThreePointArc((0.15, 0.683739717), (0.494974747, 0.494974747), (0.683739717, 0.15))
            Line((0.683739717, 0.15), (2.244994432, 0.15))
            ThreePointArc((2.244994432, 0.15), (1.590990258, 1.590990258), (0.15, 2.244994432))
        make_face()
    cut_extrude1_tool2 = extrude(cut_extrude1_sk2.sketch, amount=CUT_EXTRUDE1_REACH, mode=Mode.PRIVATE) & part.part
    add(cut_extrude1_tool2.solids().sort_by_distance((1.063034, 0, -1.063034))[0], mode=Mode.SUBTRACT)
    # Sketch2 → Cut-Extrude1 (cut, up to next)
    with BuildSketch(Plane(origin=(0, 0, 0), x_dir=(1, 0, 0), z_dir=(0, 1, 0)), mode=Mode.PRIVATE) as cut_extrude1_sk3:
        with BuildLine():
            Line((-0.15, -2.244994432), (-0.15, -0.683739717))
            ThreePointArc((-0.15, -0.683739717), (-0.494974747, -0.494974747), (-0.683739717, -0.15))
            Line((-0.683739717, -0.15), (-2.244994432, -0.15))
            ThreePointArc((-2.244994432, -0.15), (-1.590990258, -1.590990258), (-0.15, -2.244994432))
        make_face()
    cut_extrude1_tool3 = extrude(cut_extrude1_sk3.sketch, amount=CUT_EXTRUDE1_REACH, mode=Mode.PRIVATE) & part.part
    add(cut_extrude1_tool3.solids().sort_by_distance((-1.063034, 0, 1.063034))[0], mode=Mode.SUBTRACT)
    # Sketch2 → Cut-Extrude1 (cut, up to next)
    with BuildSketch(Plane(origin=(0, 0, 0), x_dir=(1, 0, 0), z_dir=(0, 1, 0)), mode=Mode.PRIVATE) as cut_extrude1_sk4:
        with BuildLine():
            Line((-2.244994432, 0.15), (-0.683739717, 0.15))
            ThreePointArc((-0.683739717, 0.15), (-0.494974747, 0.494974747), (-0.15, 0.683739717))
            Line((-0.15, 0.683739717), (-0.15, 2.244994432))
            ThreePointArc((-0.15, 2.244994432), (-1.590990258, 1.590990258), (-2.244994432, 0.15))
        make_face()
    cut_extrude1_tool4 = extrude(cut_extrude1_sk4.sketch, amount=CUT_EXTRUDE1_REACH, mode=Mode.PRIVATE) & part.part
    add(cut_extrude1_tool4.solids().sort_by_distance((-1.063034, 0, -1.063034))[0], mode=Mode.SUBTRACT)
    # Sketch2 → Cut-Extrude1 (cut, up to next)
    with BuildSketch(Plane(origin=(0, 0, 0), x_dir=(1, 0, 0), z_dir=(0, 1, 0)), mode=Mode.PRIVATE) as cut_extrude1_sk5:
        with BuildLine():
            Line((0.15, -0.683739717), (0.15, -2.244994432))
            ThreePointArc((0.15, -2.244994432), (1.590990258, -1.590990258), (2.244994432, -0.15))
            Line((2.244994432, -0.15), (0.683739717, -0.15))
            ThreePointArc((0.683739717, -0.15), (0.494974747, -0.494974747), (0.15, -0.683739717))
        make_face()
    cut_extrude1_tool5 = extrude(cut_extrude1_sk5.sketch, amount=CUT_EXTRUDE1_REACH, mode=Mode.PRIVATE) & part.part
    add(cut_extrude1_tool5.solids().sort_by_distance((1.063034, 0, 1.063034))[0], mode=Mode.SUBTRACT)


solid = part.part
